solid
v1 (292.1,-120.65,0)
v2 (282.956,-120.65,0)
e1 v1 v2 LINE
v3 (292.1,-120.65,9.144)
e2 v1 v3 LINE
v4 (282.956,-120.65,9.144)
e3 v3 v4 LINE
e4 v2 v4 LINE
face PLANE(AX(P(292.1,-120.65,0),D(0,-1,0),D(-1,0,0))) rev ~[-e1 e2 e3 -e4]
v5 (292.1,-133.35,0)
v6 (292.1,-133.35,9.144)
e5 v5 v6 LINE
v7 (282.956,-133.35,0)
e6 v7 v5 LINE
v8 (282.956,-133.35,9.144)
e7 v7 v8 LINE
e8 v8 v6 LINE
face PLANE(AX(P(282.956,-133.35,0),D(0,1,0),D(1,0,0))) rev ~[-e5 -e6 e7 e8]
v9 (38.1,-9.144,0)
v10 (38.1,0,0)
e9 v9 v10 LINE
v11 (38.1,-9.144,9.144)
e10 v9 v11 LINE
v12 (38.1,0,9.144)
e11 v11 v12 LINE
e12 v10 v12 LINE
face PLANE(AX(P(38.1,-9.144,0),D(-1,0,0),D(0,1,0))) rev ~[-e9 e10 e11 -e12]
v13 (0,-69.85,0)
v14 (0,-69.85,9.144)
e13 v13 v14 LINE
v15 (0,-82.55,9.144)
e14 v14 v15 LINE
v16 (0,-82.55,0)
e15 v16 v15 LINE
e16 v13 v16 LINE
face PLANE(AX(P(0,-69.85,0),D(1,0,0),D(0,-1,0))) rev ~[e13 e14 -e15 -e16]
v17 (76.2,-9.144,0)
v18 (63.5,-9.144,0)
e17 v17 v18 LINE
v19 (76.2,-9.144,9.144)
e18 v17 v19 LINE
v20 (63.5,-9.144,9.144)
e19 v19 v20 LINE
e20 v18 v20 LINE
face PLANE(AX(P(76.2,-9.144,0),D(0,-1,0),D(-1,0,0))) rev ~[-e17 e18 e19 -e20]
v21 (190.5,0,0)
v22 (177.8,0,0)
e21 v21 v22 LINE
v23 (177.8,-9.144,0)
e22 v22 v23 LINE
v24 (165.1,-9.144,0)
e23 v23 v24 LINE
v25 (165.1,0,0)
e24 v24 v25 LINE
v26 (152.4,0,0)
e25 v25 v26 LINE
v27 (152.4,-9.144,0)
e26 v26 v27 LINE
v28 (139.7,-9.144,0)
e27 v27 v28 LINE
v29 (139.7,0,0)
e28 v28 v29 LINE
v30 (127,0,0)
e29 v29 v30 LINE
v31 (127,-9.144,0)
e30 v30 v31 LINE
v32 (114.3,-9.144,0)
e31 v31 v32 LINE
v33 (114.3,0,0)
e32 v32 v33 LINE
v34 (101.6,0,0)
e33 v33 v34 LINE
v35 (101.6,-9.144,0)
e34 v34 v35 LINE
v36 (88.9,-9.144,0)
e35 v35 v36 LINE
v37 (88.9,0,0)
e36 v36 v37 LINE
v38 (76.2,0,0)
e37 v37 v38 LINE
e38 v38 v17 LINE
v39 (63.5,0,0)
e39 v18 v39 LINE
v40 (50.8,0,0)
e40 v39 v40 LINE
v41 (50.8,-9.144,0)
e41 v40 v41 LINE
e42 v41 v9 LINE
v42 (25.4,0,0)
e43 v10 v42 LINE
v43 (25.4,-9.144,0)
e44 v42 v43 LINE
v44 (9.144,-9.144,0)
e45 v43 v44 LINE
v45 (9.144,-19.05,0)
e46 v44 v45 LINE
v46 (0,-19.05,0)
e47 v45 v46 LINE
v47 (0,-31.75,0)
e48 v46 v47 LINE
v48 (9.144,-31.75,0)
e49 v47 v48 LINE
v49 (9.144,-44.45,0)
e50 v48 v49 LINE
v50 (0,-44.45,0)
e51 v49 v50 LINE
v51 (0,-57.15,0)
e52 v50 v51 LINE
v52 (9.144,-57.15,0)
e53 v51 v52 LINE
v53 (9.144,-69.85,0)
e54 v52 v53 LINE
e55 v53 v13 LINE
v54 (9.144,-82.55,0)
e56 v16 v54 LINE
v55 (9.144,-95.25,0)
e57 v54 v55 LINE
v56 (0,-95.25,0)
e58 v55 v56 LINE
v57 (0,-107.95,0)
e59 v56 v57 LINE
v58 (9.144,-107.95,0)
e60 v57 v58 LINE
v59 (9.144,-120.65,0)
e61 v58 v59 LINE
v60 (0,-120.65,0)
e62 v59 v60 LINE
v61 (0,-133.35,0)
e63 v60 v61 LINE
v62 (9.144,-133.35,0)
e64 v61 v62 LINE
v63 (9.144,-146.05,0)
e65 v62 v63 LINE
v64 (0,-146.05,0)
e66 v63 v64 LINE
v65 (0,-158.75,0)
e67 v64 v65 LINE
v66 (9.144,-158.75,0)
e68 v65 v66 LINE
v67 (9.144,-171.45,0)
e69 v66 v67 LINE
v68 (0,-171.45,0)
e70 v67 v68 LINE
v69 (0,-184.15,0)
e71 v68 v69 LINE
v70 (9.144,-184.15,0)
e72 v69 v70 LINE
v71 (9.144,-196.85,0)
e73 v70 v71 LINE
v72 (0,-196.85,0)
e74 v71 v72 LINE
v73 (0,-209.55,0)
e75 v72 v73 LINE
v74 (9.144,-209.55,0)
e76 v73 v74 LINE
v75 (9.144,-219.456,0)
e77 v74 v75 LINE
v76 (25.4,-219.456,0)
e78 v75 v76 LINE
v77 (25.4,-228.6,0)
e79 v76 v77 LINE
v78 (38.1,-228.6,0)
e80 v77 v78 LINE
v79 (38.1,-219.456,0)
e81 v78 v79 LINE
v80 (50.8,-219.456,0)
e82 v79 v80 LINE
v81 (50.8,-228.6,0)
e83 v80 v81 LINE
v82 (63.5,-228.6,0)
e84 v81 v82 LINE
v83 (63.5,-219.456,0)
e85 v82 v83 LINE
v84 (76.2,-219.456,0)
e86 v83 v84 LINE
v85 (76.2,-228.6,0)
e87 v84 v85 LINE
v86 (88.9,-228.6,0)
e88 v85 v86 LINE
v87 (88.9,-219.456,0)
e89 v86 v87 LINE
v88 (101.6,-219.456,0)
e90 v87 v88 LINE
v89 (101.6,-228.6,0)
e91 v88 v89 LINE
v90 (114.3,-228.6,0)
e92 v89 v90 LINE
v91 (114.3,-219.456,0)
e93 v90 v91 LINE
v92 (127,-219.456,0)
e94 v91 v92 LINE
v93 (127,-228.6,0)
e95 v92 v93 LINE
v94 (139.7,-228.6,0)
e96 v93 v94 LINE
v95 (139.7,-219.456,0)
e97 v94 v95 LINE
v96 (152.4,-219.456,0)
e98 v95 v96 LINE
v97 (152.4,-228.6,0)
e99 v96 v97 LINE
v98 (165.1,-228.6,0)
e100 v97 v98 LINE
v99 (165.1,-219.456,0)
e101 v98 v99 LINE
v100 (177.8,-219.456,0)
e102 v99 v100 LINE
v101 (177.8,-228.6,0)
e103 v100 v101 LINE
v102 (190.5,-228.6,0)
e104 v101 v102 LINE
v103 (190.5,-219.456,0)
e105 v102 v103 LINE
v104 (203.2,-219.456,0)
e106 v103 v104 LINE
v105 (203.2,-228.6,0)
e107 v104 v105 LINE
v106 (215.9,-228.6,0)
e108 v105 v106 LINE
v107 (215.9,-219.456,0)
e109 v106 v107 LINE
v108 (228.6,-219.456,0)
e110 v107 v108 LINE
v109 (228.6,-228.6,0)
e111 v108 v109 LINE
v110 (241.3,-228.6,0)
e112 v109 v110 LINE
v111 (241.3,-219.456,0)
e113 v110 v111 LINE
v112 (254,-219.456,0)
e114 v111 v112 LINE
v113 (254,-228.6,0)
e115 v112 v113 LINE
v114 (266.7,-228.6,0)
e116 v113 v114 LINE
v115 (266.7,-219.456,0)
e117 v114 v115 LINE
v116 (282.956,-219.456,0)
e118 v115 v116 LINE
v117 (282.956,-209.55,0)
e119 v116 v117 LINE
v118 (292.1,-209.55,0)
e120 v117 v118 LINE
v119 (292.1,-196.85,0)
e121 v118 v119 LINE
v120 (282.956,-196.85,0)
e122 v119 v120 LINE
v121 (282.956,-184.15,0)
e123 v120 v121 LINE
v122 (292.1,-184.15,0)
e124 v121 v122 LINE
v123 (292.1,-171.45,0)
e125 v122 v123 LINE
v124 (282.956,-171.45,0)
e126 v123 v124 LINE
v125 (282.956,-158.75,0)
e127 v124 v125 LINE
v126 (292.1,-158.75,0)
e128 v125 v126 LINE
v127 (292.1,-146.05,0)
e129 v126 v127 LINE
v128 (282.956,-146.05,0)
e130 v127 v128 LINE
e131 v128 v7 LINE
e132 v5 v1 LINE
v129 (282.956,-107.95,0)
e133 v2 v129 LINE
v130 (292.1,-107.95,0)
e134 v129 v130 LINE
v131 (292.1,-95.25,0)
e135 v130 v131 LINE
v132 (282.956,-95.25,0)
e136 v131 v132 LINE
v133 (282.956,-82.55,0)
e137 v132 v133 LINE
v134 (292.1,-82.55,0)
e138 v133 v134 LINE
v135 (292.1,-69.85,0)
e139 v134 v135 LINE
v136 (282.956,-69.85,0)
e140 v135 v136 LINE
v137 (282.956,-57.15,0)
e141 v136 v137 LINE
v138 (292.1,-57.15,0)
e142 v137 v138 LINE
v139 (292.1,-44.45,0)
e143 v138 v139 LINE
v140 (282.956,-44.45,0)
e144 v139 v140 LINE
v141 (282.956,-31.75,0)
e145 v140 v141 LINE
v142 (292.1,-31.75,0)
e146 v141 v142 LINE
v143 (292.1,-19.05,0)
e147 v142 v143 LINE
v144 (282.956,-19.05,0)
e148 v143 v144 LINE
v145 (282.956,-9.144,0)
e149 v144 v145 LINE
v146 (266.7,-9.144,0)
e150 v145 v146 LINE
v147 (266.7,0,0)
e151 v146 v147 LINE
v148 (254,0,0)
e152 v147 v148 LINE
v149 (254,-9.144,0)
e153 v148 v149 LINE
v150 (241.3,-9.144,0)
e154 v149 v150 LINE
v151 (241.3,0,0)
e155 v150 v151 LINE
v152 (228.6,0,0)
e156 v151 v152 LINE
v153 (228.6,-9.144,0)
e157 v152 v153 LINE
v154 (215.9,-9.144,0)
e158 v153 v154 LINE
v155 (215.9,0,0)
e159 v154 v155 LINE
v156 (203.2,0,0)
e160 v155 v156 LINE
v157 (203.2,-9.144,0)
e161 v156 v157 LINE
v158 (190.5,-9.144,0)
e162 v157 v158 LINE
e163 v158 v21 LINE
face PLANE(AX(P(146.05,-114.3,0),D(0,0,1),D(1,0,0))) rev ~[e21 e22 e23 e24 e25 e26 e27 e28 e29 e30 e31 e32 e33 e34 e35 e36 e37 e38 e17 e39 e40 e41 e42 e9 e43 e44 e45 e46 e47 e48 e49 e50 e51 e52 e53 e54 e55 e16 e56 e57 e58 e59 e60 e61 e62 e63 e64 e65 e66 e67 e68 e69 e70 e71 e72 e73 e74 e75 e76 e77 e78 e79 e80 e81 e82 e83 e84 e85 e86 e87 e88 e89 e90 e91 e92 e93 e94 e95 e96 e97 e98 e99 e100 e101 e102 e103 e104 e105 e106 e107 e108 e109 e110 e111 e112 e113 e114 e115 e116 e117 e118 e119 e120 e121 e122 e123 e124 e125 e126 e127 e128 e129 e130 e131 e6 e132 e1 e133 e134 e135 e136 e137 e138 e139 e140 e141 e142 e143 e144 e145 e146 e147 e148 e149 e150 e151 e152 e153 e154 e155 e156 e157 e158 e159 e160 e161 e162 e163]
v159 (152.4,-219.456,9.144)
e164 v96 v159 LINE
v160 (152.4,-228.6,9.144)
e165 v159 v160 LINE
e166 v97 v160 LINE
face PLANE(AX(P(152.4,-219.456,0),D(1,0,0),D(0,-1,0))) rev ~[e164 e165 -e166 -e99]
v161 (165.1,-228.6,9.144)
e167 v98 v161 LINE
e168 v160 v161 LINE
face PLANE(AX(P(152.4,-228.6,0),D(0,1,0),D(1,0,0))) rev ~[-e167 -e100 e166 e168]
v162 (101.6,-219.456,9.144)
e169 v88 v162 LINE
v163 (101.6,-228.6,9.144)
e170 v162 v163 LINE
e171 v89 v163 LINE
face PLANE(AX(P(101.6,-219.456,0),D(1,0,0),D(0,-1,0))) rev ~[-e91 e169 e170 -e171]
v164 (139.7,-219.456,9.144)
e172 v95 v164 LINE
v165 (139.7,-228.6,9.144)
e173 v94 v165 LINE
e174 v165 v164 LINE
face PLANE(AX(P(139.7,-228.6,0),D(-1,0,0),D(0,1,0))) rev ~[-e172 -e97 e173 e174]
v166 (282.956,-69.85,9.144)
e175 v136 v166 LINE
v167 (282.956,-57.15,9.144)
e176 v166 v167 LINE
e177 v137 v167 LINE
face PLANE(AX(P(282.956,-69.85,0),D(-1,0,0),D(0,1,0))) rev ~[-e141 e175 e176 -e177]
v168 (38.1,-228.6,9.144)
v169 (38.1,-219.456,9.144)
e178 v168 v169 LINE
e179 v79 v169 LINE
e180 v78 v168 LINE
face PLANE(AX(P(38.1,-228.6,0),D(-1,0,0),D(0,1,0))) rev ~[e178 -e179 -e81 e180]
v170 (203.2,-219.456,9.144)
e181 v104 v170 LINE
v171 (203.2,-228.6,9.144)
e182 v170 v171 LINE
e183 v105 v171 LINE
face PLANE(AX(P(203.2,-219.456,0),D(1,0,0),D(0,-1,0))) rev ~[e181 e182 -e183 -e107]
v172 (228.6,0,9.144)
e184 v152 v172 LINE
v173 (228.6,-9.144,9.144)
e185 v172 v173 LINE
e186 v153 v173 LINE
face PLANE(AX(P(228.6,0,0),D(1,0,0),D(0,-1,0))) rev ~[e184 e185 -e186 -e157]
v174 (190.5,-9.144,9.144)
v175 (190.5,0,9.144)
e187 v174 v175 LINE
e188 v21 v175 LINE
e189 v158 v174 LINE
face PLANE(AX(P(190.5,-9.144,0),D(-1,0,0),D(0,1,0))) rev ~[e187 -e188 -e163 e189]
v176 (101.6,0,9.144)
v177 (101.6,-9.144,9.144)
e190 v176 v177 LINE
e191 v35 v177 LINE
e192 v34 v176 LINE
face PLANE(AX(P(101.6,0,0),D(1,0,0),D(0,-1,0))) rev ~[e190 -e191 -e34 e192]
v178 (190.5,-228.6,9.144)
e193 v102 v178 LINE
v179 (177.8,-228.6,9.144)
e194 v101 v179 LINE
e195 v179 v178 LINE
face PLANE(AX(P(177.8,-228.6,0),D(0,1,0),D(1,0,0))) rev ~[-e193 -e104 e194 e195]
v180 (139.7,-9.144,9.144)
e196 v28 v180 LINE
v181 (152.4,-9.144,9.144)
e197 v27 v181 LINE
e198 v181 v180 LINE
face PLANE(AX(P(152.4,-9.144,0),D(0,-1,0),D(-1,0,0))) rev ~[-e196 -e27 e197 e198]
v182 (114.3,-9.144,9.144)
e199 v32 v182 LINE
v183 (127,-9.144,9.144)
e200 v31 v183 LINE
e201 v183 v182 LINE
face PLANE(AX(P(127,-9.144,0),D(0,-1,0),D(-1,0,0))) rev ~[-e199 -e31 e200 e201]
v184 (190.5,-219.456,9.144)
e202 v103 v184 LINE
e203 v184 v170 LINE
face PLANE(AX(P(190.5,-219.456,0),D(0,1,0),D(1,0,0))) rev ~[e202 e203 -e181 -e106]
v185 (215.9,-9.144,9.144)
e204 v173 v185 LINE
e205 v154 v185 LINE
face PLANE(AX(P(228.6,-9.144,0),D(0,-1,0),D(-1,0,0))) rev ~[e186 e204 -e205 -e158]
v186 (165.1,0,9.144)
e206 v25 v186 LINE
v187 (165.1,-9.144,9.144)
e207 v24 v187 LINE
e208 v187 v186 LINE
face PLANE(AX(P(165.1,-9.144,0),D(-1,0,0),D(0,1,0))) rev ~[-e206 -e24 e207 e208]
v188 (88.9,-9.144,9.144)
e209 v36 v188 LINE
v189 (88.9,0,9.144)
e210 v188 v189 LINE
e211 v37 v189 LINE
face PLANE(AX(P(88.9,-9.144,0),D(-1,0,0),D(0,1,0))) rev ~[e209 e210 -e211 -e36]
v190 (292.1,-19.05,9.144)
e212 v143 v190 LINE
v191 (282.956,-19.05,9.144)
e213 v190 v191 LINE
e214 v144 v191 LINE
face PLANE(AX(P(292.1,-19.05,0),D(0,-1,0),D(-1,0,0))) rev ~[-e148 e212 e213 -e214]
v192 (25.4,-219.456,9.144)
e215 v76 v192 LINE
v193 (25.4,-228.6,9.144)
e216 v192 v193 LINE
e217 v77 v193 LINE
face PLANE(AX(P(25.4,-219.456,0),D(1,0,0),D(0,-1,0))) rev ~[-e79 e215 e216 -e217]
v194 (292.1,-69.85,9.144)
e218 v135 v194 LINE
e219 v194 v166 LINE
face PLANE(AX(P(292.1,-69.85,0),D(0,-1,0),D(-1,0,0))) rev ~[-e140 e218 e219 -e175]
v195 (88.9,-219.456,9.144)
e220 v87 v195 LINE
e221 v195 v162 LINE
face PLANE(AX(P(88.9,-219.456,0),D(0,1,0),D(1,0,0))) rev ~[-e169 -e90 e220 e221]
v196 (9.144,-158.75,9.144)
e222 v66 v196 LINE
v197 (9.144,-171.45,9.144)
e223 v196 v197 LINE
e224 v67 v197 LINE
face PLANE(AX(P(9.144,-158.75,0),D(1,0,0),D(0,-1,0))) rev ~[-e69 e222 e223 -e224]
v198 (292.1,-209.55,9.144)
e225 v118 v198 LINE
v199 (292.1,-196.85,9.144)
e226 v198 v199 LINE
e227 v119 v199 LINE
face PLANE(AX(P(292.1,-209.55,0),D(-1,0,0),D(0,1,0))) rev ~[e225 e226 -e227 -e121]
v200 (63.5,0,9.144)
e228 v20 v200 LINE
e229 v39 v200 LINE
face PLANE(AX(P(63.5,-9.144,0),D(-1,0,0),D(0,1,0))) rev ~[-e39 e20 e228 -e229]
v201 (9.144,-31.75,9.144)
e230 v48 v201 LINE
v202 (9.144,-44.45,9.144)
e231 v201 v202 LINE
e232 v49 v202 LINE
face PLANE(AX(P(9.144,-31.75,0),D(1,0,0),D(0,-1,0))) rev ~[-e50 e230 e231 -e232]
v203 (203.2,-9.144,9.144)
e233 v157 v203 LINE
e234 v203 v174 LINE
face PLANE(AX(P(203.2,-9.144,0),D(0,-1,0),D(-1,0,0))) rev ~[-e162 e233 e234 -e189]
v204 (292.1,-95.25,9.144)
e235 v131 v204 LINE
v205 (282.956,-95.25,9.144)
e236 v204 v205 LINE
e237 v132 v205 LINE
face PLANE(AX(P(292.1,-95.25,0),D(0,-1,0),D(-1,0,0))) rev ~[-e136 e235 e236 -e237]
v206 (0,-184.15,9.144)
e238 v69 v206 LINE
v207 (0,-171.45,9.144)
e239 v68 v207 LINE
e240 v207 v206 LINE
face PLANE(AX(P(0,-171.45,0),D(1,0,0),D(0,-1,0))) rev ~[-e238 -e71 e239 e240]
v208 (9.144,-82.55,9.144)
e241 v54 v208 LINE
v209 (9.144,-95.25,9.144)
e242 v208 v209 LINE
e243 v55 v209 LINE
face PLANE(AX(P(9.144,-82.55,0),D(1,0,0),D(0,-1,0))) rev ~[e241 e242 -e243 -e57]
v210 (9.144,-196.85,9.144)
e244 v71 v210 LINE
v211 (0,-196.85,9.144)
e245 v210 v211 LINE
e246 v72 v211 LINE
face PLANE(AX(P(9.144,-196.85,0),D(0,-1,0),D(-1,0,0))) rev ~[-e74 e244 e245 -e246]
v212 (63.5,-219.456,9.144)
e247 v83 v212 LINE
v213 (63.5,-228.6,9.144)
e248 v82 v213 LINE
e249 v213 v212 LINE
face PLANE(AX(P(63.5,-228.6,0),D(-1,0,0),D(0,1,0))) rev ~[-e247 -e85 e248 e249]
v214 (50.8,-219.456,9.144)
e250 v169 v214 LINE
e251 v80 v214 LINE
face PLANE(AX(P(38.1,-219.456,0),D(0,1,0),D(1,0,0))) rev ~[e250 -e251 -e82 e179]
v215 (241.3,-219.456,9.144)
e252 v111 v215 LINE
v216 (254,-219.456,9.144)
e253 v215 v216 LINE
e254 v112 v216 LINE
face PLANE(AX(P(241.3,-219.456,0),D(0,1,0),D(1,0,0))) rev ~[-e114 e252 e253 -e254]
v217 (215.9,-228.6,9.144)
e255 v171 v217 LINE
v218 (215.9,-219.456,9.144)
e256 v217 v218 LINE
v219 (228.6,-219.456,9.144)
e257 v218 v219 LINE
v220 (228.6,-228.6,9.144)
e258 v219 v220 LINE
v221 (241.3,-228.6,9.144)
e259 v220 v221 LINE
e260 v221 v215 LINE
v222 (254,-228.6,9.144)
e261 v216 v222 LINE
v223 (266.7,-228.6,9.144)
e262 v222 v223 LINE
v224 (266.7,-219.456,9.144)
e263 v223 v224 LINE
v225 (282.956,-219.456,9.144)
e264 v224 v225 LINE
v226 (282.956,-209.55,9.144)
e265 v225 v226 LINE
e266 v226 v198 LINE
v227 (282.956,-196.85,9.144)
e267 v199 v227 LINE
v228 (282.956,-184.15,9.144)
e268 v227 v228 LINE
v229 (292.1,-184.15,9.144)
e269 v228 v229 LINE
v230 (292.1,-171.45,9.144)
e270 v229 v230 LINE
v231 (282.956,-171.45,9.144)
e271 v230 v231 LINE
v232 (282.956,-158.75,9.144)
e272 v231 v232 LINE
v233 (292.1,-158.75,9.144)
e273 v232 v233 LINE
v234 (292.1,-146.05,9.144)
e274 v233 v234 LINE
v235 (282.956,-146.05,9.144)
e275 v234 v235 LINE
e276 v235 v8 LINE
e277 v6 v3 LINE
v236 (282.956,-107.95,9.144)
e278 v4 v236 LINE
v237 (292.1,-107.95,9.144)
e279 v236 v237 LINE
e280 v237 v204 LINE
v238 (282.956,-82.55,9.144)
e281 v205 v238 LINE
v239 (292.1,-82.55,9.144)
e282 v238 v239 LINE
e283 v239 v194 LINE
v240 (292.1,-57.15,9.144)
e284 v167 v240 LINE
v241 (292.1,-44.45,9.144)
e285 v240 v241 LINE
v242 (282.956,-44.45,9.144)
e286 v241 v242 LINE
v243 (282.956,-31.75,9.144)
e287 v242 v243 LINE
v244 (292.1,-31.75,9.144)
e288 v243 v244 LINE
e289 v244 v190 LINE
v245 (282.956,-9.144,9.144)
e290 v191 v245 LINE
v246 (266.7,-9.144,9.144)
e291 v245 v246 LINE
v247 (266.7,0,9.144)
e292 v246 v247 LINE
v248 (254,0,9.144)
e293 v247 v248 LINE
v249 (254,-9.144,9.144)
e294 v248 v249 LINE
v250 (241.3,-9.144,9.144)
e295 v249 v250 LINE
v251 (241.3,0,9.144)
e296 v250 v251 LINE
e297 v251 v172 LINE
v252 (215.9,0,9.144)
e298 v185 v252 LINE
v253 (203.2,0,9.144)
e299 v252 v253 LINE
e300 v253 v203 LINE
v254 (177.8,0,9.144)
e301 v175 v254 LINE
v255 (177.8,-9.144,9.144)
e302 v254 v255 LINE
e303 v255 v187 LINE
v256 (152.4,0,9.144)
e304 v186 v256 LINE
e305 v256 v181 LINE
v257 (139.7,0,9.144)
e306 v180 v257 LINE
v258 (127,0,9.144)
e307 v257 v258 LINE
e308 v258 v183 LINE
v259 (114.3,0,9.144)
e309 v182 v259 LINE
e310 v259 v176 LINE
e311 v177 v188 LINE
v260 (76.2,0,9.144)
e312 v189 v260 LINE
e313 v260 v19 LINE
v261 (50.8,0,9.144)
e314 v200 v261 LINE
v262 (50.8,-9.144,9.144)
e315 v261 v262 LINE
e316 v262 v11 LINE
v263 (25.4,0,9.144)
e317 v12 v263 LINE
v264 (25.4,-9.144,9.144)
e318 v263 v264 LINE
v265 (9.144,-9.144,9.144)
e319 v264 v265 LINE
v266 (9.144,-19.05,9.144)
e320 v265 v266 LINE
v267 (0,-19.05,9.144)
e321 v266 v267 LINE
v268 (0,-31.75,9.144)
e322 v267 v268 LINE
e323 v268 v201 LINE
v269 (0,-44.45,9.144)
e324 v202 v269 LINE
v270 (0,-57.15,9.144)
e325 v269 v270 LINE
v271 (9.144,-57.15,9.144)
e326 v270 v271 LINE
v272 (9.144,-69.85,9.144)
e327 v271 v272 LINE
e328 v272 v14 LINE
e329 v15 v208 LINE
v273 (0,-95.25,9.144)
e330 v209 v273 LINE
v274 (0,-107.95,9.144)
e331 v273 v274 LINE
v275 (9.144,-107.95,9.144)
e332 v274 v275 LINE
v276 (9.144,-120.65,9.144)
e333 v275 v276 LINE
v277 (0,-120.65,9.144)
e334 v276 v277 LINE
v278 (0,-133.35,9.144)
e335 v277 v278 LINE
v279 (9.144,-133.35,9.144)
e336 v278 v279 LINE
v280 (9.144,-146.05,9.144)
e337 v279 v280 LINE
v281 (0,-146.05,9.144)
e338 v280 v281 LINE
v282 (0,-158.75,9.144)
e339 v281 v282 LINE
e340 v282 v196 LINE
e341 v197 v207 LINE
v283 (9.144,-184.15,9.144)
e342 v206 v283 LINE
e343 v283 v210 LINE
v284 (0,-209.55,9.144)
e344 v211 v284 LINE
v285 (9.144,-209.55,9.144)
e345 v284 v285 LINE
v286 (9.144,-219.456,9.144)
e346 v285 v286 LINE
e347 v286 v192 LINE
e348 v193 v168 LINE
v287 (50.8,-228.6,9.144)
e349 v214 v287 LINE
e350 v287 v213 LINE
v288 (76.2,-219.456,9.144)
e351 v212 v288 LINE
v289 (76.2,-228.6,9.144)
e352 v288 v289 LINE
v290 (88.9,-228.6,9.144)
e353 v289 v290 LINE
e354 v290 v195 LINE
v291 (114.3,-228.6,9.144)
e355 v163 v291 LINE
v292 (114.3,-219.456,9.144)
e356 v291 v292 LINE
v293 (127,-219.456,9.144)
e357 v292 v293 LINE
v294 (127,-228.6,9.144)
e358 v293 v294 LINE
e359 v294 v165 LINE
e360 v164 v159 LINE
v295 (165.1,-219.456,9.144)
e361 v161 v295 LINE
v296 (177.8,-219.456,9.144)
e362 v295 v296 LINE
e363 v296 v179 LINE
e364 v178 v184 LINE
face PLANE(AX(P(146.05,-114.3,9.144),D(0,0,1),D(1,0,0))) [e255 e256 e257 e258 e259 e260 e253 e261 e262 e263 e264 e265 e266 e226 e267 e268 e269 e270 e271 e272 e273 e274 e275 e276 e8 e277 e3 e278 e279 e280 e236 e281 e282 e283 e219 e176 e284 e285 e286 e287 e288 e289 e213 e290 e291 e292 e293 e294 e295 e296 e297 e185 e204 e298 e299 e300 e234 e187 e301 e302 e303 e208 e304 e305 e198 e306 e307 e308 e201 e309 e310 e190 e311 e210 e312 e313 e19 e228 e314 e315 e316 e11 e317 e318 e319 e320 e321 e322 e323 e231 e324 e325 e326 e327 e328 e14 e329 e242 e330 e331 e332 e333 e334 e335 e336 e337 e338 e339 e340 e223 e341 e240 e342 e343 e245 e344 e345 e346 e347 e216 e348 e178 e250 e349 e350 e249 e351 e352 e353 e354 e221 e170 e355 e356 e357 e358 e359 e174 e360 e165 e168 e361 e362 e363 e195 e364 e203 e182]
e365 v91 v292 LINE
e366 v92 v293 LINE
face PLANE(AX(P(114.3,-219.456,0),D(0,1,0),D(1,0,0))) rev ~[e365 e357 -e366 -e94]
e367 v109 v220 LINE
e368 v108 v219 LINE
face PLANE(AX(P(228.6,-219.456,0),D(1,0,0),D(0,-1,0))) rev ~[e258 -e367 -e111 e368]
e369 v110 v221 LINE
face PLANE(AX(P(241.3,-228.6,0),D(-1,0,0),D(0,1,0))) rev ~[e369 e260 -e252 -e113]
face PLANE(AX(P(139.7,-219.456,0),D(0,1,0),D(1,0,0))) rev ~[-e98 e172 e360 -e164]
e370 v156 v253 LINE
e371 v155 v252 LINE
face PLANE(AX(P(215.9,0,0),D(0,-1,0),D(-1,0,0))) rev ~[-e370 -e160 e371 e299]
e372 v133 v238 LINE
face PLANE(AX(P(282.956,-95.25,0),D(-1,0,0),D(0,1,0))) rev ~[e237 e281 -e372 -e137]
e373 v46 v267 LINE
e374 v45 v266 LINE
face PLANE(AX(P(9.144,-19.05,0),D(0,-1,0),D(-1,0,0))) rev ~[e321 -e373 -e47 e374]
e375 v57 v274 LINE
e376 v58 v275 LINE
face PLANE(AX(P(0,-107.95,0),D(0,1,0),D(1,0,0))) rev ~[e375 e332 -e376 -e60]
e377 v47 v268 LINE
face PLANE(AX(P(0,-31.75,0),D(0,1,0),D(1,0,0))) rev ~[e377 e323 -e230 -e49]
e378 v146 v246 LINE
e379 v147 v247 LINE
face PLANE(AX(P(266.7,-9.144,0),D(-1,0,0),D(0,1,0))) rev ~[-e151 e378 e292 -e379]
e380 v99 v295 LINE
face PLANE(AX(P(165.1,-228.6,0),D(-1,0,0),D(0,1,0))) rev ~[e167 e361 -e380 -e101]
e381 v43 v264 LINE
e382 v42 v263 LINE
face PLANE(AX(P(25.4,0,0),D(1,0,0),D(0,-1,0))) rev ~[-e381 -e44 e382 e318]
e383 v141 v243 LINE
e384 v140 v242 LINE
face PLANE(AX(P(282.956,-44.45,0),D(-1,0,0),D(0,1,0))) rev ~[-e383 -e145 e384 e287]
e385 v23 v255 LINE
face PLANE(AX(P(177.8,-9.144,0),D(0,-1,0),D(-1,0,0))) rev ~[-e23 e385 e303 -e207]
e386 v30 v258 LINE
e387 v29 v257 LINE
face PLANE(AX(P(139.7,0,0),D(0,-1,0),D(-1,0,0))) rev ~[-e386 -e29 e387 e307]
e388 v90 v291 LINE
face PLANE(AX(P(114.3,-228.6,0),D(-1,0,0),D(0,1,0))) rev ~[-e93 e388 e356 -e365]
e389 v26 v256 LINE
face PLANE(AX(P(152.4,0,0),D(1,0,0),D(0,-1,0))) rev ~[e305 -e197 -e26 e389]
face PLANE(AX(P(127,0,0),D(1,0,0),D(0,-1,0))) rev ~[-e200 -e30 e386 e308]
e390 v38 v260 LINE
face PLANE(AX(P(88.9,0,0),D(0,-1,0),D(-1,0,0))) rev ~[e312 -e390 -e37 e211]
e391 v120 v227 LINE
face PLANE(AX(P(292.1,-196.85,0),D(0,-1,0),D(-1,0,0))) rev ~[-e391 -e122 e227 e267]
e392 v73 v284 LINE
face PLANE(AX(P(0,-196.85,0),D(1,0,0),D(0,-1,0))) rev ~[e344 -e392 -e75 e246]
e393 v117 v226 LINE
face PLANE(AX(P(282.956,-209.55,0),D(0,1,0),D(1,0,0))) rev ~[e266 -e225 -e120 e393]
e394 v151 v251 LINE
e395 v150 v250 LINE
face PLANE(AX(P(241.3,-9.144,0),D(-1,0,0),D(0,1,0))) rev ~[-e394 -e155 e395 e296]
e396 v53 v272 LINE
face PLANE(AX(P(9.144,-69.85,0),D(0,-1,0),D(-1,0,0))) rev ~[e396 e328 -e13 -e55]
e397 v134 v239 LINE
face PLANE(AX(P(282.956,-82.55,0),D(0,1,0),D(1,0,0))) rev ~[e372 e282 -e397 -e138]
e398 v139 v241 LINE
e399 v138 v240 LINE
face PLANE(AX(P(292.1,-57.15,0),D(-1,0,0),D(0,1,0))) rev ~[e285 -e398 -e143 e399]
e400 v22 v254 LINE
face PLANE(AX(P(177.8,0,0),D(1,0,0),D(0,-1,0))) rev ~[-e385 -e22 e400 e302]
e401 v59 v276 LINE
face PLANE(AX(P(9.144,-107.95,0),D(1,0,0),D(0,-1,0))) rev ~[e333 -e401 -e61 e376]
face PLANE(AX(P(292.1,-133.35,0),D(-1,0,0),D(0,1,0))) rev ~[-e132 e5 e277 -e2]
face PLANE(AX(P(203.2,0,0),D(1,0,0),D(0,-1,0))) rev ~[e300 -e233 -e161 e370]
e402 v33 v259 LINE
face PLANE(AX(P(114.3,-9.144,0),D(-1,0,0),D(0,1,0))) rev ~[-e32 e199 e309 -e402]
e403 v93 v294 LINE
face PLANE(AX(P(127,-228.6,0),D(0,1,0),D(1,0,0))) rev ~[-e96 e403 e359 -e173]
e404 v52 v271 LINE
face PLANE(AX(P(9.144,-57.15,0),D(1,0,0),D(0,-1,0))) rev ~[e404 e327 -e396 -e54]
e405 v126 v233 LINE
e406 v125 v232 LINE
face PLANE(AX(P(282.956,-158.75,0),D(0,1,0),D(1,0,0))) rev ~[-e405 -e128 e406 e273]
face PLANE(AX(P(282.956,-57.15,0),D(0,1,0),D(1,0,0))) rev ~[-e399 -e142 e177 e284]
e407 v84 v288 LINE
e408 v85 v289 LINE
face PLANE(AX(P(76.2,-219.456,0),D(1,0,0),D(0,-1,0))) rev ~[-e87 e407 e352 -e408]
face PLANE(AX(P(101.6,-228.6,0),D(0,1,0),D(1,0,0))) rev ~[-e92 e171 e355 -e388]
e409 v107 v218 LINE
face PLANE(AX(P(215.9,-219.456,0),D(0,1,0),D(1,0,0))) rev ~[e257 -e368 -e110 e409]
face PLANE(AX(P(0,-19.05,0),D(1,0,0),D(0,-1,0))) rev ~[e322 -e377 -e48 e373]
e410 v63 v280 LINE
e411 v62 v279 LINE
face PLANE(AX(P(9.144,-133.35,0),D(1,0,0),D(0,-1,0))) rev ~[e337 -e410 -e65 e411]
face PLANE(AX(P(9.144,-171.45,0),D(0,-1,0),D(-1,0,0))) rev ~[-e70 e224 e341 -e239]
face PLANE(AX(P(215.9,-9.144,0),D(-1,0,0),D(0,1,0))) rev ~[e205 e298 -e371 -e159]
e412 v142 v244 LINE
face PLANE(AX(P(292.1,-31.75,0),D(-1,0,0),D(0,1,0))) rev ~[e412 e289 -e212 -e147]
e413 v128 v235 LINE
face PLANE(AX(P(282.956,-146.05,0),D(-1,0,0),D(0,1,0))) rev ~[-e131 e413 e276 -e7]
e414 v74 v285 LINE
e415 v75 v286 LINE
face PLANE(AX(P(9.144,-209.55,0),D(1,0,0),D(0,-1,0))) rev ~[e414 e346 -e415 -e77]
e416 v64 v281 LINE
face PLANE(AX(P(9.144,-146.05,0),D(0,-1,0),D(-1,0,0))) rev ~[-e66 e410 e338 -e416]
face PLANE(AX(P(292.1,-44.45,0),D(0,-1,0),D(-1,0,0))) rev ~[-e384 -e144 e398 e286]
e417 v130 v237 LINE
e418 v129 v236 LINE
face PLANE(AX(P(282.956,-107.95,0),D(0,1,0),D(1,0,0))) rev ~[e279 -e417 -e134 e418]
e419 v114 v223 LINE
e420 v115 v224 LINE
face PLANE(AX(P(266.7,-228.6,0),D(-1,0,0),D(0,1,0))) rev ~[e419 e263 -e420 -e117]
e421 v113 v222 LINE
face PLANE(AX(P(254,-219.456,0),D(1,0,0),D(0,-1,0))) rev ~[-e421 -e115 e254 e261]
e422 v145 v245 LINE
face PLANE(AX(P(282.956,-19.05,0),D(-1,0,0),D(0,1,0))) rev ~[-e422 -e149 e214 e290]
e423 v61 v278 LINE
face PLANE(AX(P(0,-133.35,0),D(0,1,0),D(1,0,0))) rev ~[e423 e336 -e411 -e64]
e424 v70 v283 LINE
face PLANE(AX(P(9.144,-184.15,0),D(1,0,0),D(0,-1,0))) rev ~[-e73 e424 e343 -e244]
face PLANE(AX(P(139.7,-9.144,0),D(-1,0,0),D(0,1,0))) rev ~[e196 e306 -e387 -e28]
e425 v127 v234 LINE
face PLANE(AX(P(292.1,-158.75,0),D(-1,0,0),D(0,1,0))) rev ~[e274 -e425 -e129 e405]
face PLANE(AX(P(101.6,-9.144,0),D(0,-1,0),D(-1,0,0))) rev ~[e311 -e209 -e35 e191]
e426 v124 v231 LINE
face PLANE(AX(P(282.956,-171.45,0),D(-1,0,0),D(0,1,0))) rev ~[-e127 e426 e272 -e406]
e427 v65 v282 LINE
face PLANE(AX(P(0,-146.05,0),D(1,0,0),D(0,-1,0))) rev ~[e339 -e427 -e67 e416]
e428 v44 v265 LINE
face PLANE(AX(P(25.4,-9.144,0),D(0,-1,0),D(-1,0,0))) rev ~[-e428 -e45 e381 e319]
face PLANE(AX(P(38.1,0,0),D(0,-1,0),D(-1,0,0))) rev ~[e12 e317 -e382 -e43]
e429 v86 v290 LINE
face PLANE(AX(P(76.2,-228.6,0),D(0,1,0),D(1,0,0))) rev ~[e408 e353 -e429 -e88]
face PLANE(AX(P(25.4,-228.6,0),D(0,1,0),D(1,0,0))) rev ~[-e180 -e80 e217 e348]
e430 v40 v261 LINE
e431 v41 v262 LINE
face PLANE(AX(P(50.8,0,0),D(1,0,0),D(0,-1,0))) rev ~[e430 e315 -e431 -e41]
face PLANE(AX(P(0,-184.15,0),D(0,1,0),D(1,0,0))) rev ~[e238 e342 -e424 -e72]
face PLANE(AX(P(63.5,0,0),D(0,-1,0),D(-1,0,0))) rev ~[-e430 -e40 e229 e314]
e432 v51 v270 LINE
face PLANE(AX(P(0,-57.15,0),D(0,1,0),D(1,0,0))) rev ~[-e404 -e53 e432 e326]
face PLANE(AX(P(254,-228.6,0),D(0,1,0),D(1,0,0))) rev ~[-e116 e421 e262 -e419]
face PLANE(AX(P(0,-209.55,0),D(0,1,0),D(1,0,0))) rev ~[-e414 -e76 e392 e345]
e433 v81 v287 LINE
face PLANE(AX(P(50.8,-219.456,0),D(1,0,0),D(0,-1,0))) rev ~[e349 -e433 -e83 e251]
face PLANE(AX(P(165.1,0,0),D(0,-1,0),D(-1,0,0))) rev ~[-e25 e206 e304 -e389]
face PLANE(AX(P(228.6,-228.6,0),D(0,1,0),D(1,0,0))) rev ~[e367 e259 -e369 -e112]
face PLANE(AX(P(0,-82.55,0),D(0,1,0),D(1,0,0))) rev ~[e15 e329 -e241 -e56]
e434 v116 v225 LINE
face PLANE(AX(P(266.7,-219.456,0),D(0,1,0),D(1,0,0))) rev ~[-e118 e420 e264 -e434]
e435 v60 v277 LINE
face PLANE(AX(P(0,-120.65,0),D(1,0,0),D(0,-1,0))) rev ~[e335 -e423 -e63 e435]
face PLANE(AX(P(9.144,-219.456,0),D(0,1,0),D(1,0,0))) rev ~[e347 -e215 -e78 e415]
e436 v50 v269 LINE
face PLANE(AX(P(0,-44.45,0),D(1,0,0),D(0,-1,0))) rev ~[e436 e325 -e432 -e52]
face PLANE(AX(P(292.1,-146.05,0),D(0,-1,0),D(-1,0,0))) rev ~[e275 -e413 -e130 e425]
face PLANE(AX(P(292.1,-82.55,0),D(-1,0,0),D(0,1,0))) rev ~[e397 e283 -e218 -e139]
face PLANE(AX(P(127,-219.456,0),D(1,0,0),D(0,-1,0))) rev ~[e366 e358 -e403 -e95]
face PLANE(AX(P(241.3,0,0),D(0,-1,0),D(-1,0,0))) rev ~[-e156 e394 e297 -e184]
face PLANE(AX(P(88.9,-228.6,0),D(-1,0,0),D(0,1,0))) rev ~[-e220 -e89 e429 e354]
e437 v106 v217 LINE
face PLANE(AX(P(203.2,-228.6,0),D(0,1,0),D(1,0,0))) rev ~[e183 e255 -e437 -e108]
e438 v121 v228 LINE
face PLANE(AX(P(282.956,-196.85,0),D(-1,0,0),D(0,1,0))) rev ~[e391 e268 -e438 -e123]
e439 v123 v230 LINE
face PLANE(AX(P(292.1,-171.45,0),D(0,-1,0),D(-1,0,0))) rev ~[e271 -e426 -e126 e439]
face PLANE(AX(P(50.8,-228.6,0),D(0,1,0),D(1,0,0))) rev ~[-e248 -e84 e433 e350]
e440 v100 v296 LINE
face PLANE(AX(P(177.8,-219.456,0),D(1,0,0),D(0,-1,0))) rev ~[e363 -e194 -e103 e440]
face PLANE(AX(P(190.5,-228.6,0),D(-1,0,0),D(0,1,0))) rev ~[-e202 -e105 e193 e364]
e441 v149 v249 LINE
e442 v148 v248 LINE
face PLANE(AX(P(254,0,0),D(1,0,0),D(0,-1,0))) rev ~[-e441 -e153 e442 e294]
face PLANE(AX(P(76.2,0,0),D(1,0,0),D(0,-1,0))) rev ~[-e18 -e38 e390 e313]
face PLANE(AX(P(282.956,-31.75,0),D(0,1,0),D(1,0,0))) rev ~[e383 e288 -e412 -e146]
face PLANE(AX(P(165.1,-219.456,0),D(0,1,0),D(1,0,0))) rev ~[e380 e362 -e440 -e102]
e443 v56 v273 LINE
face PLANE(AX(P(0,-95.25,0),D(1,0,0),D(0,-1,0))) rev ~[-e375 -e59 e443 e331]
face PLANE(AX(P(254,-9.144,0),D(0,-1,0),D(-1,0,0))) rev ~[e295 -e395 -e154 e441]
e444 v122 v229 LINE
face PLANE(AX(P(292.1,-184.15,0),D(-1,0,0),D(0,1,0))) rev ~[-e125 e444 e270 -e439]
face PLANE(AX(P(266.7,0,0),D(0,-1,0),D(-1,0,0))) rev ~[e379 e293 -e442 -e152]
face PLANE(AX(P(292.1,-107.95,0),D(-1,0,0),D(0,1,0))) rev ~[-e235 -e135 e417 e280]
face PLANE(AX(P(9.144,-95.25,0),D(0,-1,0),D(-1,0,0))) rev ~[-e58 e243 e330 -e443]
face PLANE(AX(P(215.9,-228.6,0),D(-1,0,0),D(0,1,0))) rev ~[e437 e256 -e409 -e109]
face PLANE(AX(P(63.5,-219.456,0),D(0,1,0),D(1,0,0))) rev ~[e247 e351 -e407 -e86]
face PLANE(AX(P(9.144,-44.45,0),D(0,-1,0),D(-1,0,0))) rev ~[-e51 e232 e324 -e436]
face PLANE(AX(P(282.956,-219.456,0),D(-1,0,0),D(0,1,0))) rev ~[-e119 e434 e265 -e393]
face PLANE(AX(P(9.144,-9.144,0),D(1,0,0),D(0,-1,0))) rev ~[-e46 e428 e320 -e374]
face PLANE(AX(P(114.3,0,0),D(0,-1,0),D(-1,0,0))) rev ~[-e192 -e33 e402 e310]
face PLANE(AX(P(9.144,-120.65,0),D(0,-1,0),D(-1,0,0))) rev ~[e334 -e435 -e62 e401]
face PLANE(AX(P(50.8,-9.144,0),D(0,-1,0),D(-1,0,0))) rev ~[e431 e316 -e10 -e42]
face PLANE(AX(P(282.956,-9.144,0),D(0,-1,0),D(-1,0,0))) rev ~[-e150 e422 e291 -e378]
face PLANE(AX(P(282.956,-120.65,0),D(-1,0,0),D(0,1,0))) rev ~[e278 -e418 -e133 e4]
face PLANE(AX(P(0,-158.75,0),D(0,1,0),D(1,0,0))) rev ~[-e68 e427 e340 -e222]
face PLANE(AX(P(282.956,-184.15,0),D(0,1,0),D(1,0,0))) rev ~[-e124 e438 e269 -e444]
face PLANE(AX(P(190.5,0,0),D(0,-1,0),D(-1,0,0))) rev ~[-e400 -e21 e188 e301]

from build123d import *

# Parameters (mm, degrees)
F1_DEPTH = 9.144


with BuildPart() as f1:
    # F0 (on Top) → F1 (new body)
    with BuildSketch(Plane.XY):
        Polygon((38.1, 0), (25.4, 0), (25.4, -9.144), (9.144, -9.144), (9.144, -19.05), (0, -19.05), (0, -31.75), (9.144, -31.75), (9.144, -44.45), (0, -44.45), (0, -57.15), (9.144, -57.15), (9.144, -69.85), (0, -69.85), (0, -82.55), (9.144, -82.55), (9.144, -95.25), (0, -95.25), (0, -107.95), (9.144, -107.95), (9.144, -120.65), (0, -120.65), (0, -133.35), (9.144, -133.35), (9.144, -146.05), (0, -146.05), (0, -158.75), (9.144, -158.75), (9.144, -171.45), (0, -171.45), (0, -184.15), (9.144, -184.15), (9.144, -196.85), (0, -196.85), (0, -209.55), (9.144, -209.55), (9.144, -219.456), (25.4, -219.456), (25.4, -228.6), (38.1, -228.6), (38.1, -219.456), (50.8, -219.456), (50.8, -228.6), (63.5, -228.6), (63.5, -219.456), (76.2, -219.456), (76.2, -228.6), (88.9, -228.6), (88.9, -219.456), (101.6, -219.456), (101.6, -228.6), (114.3, -228.6), (114.3, -219.456), (127, -219.456), (127, -228.6), (139.7, -228.6), (139.7, -219.456), (152.4, -219.456), (152.4, -228.6), (165.1, -228.6), (165.1, -219.456), (177.8, -219.456), (177.8, -228.6), (190.5, -228.6), (190.5, -219.456), (203.2, -219.456), (203.2, -228.6), (215.9, -228.6), (215.9, -219.456), (228.6, -219.456), (228.6, -228.6), (241.3, -228.6), (241.3, -219.456), (254, -219.456), (254, -228.6), (266.7, -228.6), (266.7, -219.456), (282.956, -219.456), (282.956, -209.55), (292.1, -209.55), (292.1, -196.85), (282.956, -196.85), (282.956, -184.15), (292.1, -184.15), (292.1, -171.45), (282.956, -171.45), (282.956, -158.75), (292.1, -158.75), (292.1, -146.05), (282.956, -146.05), (282.956, -133.35), (292.1, -133.35), (292.1, -120.65), (282.956, -120.65), (282.956, -107.95), (292.1, -107.95), (292.1, -95.25), (282.956, -95.25), (282.956, -82.55), (292.1, -82.55), (292.1, -69.85), (282.956, -69.85), (282.956, -57.15), (292.1, -57.15), (292.1, -44.45), (282.956, -44.45), (282.956, -31.75), (292.1, -31.75), (292.1, -19.05), (282.956, -19.05), (282.956, -9.144), (266.7, -9.144), (266.7, 0), (254, 0), (254, -9.144), (241.3, -9.144), (241.3, 0), (228.6, 0), (228.6, -9.144), (215.9, -9.144), (215.9, 0), (203.2, 0), (203.2, -9.144), (190.5, -9.144), (190.5, 0), (177.8, 0), (177.8, -9.144), (165.1, -9.144), (165.1, 0), (152.4, 0), (152.4, -9.144), (139.7, -9.144), (139.7, 0), (127, 0), (127, -9.144), (114.3, -9.144), (114.3, 0), (101.6, 0), (101.6, -9.144), (88.9, -9.144), (88.9, 0), (76.2, 0), (76.2, -9.144), (63.5, -9.144), (63.5, 0), (50.8, 0), (50.8, -9.144), (38.1, -9.144), align=None)
    extrude(amount=F1_DEPTH)


solid = f1.part
